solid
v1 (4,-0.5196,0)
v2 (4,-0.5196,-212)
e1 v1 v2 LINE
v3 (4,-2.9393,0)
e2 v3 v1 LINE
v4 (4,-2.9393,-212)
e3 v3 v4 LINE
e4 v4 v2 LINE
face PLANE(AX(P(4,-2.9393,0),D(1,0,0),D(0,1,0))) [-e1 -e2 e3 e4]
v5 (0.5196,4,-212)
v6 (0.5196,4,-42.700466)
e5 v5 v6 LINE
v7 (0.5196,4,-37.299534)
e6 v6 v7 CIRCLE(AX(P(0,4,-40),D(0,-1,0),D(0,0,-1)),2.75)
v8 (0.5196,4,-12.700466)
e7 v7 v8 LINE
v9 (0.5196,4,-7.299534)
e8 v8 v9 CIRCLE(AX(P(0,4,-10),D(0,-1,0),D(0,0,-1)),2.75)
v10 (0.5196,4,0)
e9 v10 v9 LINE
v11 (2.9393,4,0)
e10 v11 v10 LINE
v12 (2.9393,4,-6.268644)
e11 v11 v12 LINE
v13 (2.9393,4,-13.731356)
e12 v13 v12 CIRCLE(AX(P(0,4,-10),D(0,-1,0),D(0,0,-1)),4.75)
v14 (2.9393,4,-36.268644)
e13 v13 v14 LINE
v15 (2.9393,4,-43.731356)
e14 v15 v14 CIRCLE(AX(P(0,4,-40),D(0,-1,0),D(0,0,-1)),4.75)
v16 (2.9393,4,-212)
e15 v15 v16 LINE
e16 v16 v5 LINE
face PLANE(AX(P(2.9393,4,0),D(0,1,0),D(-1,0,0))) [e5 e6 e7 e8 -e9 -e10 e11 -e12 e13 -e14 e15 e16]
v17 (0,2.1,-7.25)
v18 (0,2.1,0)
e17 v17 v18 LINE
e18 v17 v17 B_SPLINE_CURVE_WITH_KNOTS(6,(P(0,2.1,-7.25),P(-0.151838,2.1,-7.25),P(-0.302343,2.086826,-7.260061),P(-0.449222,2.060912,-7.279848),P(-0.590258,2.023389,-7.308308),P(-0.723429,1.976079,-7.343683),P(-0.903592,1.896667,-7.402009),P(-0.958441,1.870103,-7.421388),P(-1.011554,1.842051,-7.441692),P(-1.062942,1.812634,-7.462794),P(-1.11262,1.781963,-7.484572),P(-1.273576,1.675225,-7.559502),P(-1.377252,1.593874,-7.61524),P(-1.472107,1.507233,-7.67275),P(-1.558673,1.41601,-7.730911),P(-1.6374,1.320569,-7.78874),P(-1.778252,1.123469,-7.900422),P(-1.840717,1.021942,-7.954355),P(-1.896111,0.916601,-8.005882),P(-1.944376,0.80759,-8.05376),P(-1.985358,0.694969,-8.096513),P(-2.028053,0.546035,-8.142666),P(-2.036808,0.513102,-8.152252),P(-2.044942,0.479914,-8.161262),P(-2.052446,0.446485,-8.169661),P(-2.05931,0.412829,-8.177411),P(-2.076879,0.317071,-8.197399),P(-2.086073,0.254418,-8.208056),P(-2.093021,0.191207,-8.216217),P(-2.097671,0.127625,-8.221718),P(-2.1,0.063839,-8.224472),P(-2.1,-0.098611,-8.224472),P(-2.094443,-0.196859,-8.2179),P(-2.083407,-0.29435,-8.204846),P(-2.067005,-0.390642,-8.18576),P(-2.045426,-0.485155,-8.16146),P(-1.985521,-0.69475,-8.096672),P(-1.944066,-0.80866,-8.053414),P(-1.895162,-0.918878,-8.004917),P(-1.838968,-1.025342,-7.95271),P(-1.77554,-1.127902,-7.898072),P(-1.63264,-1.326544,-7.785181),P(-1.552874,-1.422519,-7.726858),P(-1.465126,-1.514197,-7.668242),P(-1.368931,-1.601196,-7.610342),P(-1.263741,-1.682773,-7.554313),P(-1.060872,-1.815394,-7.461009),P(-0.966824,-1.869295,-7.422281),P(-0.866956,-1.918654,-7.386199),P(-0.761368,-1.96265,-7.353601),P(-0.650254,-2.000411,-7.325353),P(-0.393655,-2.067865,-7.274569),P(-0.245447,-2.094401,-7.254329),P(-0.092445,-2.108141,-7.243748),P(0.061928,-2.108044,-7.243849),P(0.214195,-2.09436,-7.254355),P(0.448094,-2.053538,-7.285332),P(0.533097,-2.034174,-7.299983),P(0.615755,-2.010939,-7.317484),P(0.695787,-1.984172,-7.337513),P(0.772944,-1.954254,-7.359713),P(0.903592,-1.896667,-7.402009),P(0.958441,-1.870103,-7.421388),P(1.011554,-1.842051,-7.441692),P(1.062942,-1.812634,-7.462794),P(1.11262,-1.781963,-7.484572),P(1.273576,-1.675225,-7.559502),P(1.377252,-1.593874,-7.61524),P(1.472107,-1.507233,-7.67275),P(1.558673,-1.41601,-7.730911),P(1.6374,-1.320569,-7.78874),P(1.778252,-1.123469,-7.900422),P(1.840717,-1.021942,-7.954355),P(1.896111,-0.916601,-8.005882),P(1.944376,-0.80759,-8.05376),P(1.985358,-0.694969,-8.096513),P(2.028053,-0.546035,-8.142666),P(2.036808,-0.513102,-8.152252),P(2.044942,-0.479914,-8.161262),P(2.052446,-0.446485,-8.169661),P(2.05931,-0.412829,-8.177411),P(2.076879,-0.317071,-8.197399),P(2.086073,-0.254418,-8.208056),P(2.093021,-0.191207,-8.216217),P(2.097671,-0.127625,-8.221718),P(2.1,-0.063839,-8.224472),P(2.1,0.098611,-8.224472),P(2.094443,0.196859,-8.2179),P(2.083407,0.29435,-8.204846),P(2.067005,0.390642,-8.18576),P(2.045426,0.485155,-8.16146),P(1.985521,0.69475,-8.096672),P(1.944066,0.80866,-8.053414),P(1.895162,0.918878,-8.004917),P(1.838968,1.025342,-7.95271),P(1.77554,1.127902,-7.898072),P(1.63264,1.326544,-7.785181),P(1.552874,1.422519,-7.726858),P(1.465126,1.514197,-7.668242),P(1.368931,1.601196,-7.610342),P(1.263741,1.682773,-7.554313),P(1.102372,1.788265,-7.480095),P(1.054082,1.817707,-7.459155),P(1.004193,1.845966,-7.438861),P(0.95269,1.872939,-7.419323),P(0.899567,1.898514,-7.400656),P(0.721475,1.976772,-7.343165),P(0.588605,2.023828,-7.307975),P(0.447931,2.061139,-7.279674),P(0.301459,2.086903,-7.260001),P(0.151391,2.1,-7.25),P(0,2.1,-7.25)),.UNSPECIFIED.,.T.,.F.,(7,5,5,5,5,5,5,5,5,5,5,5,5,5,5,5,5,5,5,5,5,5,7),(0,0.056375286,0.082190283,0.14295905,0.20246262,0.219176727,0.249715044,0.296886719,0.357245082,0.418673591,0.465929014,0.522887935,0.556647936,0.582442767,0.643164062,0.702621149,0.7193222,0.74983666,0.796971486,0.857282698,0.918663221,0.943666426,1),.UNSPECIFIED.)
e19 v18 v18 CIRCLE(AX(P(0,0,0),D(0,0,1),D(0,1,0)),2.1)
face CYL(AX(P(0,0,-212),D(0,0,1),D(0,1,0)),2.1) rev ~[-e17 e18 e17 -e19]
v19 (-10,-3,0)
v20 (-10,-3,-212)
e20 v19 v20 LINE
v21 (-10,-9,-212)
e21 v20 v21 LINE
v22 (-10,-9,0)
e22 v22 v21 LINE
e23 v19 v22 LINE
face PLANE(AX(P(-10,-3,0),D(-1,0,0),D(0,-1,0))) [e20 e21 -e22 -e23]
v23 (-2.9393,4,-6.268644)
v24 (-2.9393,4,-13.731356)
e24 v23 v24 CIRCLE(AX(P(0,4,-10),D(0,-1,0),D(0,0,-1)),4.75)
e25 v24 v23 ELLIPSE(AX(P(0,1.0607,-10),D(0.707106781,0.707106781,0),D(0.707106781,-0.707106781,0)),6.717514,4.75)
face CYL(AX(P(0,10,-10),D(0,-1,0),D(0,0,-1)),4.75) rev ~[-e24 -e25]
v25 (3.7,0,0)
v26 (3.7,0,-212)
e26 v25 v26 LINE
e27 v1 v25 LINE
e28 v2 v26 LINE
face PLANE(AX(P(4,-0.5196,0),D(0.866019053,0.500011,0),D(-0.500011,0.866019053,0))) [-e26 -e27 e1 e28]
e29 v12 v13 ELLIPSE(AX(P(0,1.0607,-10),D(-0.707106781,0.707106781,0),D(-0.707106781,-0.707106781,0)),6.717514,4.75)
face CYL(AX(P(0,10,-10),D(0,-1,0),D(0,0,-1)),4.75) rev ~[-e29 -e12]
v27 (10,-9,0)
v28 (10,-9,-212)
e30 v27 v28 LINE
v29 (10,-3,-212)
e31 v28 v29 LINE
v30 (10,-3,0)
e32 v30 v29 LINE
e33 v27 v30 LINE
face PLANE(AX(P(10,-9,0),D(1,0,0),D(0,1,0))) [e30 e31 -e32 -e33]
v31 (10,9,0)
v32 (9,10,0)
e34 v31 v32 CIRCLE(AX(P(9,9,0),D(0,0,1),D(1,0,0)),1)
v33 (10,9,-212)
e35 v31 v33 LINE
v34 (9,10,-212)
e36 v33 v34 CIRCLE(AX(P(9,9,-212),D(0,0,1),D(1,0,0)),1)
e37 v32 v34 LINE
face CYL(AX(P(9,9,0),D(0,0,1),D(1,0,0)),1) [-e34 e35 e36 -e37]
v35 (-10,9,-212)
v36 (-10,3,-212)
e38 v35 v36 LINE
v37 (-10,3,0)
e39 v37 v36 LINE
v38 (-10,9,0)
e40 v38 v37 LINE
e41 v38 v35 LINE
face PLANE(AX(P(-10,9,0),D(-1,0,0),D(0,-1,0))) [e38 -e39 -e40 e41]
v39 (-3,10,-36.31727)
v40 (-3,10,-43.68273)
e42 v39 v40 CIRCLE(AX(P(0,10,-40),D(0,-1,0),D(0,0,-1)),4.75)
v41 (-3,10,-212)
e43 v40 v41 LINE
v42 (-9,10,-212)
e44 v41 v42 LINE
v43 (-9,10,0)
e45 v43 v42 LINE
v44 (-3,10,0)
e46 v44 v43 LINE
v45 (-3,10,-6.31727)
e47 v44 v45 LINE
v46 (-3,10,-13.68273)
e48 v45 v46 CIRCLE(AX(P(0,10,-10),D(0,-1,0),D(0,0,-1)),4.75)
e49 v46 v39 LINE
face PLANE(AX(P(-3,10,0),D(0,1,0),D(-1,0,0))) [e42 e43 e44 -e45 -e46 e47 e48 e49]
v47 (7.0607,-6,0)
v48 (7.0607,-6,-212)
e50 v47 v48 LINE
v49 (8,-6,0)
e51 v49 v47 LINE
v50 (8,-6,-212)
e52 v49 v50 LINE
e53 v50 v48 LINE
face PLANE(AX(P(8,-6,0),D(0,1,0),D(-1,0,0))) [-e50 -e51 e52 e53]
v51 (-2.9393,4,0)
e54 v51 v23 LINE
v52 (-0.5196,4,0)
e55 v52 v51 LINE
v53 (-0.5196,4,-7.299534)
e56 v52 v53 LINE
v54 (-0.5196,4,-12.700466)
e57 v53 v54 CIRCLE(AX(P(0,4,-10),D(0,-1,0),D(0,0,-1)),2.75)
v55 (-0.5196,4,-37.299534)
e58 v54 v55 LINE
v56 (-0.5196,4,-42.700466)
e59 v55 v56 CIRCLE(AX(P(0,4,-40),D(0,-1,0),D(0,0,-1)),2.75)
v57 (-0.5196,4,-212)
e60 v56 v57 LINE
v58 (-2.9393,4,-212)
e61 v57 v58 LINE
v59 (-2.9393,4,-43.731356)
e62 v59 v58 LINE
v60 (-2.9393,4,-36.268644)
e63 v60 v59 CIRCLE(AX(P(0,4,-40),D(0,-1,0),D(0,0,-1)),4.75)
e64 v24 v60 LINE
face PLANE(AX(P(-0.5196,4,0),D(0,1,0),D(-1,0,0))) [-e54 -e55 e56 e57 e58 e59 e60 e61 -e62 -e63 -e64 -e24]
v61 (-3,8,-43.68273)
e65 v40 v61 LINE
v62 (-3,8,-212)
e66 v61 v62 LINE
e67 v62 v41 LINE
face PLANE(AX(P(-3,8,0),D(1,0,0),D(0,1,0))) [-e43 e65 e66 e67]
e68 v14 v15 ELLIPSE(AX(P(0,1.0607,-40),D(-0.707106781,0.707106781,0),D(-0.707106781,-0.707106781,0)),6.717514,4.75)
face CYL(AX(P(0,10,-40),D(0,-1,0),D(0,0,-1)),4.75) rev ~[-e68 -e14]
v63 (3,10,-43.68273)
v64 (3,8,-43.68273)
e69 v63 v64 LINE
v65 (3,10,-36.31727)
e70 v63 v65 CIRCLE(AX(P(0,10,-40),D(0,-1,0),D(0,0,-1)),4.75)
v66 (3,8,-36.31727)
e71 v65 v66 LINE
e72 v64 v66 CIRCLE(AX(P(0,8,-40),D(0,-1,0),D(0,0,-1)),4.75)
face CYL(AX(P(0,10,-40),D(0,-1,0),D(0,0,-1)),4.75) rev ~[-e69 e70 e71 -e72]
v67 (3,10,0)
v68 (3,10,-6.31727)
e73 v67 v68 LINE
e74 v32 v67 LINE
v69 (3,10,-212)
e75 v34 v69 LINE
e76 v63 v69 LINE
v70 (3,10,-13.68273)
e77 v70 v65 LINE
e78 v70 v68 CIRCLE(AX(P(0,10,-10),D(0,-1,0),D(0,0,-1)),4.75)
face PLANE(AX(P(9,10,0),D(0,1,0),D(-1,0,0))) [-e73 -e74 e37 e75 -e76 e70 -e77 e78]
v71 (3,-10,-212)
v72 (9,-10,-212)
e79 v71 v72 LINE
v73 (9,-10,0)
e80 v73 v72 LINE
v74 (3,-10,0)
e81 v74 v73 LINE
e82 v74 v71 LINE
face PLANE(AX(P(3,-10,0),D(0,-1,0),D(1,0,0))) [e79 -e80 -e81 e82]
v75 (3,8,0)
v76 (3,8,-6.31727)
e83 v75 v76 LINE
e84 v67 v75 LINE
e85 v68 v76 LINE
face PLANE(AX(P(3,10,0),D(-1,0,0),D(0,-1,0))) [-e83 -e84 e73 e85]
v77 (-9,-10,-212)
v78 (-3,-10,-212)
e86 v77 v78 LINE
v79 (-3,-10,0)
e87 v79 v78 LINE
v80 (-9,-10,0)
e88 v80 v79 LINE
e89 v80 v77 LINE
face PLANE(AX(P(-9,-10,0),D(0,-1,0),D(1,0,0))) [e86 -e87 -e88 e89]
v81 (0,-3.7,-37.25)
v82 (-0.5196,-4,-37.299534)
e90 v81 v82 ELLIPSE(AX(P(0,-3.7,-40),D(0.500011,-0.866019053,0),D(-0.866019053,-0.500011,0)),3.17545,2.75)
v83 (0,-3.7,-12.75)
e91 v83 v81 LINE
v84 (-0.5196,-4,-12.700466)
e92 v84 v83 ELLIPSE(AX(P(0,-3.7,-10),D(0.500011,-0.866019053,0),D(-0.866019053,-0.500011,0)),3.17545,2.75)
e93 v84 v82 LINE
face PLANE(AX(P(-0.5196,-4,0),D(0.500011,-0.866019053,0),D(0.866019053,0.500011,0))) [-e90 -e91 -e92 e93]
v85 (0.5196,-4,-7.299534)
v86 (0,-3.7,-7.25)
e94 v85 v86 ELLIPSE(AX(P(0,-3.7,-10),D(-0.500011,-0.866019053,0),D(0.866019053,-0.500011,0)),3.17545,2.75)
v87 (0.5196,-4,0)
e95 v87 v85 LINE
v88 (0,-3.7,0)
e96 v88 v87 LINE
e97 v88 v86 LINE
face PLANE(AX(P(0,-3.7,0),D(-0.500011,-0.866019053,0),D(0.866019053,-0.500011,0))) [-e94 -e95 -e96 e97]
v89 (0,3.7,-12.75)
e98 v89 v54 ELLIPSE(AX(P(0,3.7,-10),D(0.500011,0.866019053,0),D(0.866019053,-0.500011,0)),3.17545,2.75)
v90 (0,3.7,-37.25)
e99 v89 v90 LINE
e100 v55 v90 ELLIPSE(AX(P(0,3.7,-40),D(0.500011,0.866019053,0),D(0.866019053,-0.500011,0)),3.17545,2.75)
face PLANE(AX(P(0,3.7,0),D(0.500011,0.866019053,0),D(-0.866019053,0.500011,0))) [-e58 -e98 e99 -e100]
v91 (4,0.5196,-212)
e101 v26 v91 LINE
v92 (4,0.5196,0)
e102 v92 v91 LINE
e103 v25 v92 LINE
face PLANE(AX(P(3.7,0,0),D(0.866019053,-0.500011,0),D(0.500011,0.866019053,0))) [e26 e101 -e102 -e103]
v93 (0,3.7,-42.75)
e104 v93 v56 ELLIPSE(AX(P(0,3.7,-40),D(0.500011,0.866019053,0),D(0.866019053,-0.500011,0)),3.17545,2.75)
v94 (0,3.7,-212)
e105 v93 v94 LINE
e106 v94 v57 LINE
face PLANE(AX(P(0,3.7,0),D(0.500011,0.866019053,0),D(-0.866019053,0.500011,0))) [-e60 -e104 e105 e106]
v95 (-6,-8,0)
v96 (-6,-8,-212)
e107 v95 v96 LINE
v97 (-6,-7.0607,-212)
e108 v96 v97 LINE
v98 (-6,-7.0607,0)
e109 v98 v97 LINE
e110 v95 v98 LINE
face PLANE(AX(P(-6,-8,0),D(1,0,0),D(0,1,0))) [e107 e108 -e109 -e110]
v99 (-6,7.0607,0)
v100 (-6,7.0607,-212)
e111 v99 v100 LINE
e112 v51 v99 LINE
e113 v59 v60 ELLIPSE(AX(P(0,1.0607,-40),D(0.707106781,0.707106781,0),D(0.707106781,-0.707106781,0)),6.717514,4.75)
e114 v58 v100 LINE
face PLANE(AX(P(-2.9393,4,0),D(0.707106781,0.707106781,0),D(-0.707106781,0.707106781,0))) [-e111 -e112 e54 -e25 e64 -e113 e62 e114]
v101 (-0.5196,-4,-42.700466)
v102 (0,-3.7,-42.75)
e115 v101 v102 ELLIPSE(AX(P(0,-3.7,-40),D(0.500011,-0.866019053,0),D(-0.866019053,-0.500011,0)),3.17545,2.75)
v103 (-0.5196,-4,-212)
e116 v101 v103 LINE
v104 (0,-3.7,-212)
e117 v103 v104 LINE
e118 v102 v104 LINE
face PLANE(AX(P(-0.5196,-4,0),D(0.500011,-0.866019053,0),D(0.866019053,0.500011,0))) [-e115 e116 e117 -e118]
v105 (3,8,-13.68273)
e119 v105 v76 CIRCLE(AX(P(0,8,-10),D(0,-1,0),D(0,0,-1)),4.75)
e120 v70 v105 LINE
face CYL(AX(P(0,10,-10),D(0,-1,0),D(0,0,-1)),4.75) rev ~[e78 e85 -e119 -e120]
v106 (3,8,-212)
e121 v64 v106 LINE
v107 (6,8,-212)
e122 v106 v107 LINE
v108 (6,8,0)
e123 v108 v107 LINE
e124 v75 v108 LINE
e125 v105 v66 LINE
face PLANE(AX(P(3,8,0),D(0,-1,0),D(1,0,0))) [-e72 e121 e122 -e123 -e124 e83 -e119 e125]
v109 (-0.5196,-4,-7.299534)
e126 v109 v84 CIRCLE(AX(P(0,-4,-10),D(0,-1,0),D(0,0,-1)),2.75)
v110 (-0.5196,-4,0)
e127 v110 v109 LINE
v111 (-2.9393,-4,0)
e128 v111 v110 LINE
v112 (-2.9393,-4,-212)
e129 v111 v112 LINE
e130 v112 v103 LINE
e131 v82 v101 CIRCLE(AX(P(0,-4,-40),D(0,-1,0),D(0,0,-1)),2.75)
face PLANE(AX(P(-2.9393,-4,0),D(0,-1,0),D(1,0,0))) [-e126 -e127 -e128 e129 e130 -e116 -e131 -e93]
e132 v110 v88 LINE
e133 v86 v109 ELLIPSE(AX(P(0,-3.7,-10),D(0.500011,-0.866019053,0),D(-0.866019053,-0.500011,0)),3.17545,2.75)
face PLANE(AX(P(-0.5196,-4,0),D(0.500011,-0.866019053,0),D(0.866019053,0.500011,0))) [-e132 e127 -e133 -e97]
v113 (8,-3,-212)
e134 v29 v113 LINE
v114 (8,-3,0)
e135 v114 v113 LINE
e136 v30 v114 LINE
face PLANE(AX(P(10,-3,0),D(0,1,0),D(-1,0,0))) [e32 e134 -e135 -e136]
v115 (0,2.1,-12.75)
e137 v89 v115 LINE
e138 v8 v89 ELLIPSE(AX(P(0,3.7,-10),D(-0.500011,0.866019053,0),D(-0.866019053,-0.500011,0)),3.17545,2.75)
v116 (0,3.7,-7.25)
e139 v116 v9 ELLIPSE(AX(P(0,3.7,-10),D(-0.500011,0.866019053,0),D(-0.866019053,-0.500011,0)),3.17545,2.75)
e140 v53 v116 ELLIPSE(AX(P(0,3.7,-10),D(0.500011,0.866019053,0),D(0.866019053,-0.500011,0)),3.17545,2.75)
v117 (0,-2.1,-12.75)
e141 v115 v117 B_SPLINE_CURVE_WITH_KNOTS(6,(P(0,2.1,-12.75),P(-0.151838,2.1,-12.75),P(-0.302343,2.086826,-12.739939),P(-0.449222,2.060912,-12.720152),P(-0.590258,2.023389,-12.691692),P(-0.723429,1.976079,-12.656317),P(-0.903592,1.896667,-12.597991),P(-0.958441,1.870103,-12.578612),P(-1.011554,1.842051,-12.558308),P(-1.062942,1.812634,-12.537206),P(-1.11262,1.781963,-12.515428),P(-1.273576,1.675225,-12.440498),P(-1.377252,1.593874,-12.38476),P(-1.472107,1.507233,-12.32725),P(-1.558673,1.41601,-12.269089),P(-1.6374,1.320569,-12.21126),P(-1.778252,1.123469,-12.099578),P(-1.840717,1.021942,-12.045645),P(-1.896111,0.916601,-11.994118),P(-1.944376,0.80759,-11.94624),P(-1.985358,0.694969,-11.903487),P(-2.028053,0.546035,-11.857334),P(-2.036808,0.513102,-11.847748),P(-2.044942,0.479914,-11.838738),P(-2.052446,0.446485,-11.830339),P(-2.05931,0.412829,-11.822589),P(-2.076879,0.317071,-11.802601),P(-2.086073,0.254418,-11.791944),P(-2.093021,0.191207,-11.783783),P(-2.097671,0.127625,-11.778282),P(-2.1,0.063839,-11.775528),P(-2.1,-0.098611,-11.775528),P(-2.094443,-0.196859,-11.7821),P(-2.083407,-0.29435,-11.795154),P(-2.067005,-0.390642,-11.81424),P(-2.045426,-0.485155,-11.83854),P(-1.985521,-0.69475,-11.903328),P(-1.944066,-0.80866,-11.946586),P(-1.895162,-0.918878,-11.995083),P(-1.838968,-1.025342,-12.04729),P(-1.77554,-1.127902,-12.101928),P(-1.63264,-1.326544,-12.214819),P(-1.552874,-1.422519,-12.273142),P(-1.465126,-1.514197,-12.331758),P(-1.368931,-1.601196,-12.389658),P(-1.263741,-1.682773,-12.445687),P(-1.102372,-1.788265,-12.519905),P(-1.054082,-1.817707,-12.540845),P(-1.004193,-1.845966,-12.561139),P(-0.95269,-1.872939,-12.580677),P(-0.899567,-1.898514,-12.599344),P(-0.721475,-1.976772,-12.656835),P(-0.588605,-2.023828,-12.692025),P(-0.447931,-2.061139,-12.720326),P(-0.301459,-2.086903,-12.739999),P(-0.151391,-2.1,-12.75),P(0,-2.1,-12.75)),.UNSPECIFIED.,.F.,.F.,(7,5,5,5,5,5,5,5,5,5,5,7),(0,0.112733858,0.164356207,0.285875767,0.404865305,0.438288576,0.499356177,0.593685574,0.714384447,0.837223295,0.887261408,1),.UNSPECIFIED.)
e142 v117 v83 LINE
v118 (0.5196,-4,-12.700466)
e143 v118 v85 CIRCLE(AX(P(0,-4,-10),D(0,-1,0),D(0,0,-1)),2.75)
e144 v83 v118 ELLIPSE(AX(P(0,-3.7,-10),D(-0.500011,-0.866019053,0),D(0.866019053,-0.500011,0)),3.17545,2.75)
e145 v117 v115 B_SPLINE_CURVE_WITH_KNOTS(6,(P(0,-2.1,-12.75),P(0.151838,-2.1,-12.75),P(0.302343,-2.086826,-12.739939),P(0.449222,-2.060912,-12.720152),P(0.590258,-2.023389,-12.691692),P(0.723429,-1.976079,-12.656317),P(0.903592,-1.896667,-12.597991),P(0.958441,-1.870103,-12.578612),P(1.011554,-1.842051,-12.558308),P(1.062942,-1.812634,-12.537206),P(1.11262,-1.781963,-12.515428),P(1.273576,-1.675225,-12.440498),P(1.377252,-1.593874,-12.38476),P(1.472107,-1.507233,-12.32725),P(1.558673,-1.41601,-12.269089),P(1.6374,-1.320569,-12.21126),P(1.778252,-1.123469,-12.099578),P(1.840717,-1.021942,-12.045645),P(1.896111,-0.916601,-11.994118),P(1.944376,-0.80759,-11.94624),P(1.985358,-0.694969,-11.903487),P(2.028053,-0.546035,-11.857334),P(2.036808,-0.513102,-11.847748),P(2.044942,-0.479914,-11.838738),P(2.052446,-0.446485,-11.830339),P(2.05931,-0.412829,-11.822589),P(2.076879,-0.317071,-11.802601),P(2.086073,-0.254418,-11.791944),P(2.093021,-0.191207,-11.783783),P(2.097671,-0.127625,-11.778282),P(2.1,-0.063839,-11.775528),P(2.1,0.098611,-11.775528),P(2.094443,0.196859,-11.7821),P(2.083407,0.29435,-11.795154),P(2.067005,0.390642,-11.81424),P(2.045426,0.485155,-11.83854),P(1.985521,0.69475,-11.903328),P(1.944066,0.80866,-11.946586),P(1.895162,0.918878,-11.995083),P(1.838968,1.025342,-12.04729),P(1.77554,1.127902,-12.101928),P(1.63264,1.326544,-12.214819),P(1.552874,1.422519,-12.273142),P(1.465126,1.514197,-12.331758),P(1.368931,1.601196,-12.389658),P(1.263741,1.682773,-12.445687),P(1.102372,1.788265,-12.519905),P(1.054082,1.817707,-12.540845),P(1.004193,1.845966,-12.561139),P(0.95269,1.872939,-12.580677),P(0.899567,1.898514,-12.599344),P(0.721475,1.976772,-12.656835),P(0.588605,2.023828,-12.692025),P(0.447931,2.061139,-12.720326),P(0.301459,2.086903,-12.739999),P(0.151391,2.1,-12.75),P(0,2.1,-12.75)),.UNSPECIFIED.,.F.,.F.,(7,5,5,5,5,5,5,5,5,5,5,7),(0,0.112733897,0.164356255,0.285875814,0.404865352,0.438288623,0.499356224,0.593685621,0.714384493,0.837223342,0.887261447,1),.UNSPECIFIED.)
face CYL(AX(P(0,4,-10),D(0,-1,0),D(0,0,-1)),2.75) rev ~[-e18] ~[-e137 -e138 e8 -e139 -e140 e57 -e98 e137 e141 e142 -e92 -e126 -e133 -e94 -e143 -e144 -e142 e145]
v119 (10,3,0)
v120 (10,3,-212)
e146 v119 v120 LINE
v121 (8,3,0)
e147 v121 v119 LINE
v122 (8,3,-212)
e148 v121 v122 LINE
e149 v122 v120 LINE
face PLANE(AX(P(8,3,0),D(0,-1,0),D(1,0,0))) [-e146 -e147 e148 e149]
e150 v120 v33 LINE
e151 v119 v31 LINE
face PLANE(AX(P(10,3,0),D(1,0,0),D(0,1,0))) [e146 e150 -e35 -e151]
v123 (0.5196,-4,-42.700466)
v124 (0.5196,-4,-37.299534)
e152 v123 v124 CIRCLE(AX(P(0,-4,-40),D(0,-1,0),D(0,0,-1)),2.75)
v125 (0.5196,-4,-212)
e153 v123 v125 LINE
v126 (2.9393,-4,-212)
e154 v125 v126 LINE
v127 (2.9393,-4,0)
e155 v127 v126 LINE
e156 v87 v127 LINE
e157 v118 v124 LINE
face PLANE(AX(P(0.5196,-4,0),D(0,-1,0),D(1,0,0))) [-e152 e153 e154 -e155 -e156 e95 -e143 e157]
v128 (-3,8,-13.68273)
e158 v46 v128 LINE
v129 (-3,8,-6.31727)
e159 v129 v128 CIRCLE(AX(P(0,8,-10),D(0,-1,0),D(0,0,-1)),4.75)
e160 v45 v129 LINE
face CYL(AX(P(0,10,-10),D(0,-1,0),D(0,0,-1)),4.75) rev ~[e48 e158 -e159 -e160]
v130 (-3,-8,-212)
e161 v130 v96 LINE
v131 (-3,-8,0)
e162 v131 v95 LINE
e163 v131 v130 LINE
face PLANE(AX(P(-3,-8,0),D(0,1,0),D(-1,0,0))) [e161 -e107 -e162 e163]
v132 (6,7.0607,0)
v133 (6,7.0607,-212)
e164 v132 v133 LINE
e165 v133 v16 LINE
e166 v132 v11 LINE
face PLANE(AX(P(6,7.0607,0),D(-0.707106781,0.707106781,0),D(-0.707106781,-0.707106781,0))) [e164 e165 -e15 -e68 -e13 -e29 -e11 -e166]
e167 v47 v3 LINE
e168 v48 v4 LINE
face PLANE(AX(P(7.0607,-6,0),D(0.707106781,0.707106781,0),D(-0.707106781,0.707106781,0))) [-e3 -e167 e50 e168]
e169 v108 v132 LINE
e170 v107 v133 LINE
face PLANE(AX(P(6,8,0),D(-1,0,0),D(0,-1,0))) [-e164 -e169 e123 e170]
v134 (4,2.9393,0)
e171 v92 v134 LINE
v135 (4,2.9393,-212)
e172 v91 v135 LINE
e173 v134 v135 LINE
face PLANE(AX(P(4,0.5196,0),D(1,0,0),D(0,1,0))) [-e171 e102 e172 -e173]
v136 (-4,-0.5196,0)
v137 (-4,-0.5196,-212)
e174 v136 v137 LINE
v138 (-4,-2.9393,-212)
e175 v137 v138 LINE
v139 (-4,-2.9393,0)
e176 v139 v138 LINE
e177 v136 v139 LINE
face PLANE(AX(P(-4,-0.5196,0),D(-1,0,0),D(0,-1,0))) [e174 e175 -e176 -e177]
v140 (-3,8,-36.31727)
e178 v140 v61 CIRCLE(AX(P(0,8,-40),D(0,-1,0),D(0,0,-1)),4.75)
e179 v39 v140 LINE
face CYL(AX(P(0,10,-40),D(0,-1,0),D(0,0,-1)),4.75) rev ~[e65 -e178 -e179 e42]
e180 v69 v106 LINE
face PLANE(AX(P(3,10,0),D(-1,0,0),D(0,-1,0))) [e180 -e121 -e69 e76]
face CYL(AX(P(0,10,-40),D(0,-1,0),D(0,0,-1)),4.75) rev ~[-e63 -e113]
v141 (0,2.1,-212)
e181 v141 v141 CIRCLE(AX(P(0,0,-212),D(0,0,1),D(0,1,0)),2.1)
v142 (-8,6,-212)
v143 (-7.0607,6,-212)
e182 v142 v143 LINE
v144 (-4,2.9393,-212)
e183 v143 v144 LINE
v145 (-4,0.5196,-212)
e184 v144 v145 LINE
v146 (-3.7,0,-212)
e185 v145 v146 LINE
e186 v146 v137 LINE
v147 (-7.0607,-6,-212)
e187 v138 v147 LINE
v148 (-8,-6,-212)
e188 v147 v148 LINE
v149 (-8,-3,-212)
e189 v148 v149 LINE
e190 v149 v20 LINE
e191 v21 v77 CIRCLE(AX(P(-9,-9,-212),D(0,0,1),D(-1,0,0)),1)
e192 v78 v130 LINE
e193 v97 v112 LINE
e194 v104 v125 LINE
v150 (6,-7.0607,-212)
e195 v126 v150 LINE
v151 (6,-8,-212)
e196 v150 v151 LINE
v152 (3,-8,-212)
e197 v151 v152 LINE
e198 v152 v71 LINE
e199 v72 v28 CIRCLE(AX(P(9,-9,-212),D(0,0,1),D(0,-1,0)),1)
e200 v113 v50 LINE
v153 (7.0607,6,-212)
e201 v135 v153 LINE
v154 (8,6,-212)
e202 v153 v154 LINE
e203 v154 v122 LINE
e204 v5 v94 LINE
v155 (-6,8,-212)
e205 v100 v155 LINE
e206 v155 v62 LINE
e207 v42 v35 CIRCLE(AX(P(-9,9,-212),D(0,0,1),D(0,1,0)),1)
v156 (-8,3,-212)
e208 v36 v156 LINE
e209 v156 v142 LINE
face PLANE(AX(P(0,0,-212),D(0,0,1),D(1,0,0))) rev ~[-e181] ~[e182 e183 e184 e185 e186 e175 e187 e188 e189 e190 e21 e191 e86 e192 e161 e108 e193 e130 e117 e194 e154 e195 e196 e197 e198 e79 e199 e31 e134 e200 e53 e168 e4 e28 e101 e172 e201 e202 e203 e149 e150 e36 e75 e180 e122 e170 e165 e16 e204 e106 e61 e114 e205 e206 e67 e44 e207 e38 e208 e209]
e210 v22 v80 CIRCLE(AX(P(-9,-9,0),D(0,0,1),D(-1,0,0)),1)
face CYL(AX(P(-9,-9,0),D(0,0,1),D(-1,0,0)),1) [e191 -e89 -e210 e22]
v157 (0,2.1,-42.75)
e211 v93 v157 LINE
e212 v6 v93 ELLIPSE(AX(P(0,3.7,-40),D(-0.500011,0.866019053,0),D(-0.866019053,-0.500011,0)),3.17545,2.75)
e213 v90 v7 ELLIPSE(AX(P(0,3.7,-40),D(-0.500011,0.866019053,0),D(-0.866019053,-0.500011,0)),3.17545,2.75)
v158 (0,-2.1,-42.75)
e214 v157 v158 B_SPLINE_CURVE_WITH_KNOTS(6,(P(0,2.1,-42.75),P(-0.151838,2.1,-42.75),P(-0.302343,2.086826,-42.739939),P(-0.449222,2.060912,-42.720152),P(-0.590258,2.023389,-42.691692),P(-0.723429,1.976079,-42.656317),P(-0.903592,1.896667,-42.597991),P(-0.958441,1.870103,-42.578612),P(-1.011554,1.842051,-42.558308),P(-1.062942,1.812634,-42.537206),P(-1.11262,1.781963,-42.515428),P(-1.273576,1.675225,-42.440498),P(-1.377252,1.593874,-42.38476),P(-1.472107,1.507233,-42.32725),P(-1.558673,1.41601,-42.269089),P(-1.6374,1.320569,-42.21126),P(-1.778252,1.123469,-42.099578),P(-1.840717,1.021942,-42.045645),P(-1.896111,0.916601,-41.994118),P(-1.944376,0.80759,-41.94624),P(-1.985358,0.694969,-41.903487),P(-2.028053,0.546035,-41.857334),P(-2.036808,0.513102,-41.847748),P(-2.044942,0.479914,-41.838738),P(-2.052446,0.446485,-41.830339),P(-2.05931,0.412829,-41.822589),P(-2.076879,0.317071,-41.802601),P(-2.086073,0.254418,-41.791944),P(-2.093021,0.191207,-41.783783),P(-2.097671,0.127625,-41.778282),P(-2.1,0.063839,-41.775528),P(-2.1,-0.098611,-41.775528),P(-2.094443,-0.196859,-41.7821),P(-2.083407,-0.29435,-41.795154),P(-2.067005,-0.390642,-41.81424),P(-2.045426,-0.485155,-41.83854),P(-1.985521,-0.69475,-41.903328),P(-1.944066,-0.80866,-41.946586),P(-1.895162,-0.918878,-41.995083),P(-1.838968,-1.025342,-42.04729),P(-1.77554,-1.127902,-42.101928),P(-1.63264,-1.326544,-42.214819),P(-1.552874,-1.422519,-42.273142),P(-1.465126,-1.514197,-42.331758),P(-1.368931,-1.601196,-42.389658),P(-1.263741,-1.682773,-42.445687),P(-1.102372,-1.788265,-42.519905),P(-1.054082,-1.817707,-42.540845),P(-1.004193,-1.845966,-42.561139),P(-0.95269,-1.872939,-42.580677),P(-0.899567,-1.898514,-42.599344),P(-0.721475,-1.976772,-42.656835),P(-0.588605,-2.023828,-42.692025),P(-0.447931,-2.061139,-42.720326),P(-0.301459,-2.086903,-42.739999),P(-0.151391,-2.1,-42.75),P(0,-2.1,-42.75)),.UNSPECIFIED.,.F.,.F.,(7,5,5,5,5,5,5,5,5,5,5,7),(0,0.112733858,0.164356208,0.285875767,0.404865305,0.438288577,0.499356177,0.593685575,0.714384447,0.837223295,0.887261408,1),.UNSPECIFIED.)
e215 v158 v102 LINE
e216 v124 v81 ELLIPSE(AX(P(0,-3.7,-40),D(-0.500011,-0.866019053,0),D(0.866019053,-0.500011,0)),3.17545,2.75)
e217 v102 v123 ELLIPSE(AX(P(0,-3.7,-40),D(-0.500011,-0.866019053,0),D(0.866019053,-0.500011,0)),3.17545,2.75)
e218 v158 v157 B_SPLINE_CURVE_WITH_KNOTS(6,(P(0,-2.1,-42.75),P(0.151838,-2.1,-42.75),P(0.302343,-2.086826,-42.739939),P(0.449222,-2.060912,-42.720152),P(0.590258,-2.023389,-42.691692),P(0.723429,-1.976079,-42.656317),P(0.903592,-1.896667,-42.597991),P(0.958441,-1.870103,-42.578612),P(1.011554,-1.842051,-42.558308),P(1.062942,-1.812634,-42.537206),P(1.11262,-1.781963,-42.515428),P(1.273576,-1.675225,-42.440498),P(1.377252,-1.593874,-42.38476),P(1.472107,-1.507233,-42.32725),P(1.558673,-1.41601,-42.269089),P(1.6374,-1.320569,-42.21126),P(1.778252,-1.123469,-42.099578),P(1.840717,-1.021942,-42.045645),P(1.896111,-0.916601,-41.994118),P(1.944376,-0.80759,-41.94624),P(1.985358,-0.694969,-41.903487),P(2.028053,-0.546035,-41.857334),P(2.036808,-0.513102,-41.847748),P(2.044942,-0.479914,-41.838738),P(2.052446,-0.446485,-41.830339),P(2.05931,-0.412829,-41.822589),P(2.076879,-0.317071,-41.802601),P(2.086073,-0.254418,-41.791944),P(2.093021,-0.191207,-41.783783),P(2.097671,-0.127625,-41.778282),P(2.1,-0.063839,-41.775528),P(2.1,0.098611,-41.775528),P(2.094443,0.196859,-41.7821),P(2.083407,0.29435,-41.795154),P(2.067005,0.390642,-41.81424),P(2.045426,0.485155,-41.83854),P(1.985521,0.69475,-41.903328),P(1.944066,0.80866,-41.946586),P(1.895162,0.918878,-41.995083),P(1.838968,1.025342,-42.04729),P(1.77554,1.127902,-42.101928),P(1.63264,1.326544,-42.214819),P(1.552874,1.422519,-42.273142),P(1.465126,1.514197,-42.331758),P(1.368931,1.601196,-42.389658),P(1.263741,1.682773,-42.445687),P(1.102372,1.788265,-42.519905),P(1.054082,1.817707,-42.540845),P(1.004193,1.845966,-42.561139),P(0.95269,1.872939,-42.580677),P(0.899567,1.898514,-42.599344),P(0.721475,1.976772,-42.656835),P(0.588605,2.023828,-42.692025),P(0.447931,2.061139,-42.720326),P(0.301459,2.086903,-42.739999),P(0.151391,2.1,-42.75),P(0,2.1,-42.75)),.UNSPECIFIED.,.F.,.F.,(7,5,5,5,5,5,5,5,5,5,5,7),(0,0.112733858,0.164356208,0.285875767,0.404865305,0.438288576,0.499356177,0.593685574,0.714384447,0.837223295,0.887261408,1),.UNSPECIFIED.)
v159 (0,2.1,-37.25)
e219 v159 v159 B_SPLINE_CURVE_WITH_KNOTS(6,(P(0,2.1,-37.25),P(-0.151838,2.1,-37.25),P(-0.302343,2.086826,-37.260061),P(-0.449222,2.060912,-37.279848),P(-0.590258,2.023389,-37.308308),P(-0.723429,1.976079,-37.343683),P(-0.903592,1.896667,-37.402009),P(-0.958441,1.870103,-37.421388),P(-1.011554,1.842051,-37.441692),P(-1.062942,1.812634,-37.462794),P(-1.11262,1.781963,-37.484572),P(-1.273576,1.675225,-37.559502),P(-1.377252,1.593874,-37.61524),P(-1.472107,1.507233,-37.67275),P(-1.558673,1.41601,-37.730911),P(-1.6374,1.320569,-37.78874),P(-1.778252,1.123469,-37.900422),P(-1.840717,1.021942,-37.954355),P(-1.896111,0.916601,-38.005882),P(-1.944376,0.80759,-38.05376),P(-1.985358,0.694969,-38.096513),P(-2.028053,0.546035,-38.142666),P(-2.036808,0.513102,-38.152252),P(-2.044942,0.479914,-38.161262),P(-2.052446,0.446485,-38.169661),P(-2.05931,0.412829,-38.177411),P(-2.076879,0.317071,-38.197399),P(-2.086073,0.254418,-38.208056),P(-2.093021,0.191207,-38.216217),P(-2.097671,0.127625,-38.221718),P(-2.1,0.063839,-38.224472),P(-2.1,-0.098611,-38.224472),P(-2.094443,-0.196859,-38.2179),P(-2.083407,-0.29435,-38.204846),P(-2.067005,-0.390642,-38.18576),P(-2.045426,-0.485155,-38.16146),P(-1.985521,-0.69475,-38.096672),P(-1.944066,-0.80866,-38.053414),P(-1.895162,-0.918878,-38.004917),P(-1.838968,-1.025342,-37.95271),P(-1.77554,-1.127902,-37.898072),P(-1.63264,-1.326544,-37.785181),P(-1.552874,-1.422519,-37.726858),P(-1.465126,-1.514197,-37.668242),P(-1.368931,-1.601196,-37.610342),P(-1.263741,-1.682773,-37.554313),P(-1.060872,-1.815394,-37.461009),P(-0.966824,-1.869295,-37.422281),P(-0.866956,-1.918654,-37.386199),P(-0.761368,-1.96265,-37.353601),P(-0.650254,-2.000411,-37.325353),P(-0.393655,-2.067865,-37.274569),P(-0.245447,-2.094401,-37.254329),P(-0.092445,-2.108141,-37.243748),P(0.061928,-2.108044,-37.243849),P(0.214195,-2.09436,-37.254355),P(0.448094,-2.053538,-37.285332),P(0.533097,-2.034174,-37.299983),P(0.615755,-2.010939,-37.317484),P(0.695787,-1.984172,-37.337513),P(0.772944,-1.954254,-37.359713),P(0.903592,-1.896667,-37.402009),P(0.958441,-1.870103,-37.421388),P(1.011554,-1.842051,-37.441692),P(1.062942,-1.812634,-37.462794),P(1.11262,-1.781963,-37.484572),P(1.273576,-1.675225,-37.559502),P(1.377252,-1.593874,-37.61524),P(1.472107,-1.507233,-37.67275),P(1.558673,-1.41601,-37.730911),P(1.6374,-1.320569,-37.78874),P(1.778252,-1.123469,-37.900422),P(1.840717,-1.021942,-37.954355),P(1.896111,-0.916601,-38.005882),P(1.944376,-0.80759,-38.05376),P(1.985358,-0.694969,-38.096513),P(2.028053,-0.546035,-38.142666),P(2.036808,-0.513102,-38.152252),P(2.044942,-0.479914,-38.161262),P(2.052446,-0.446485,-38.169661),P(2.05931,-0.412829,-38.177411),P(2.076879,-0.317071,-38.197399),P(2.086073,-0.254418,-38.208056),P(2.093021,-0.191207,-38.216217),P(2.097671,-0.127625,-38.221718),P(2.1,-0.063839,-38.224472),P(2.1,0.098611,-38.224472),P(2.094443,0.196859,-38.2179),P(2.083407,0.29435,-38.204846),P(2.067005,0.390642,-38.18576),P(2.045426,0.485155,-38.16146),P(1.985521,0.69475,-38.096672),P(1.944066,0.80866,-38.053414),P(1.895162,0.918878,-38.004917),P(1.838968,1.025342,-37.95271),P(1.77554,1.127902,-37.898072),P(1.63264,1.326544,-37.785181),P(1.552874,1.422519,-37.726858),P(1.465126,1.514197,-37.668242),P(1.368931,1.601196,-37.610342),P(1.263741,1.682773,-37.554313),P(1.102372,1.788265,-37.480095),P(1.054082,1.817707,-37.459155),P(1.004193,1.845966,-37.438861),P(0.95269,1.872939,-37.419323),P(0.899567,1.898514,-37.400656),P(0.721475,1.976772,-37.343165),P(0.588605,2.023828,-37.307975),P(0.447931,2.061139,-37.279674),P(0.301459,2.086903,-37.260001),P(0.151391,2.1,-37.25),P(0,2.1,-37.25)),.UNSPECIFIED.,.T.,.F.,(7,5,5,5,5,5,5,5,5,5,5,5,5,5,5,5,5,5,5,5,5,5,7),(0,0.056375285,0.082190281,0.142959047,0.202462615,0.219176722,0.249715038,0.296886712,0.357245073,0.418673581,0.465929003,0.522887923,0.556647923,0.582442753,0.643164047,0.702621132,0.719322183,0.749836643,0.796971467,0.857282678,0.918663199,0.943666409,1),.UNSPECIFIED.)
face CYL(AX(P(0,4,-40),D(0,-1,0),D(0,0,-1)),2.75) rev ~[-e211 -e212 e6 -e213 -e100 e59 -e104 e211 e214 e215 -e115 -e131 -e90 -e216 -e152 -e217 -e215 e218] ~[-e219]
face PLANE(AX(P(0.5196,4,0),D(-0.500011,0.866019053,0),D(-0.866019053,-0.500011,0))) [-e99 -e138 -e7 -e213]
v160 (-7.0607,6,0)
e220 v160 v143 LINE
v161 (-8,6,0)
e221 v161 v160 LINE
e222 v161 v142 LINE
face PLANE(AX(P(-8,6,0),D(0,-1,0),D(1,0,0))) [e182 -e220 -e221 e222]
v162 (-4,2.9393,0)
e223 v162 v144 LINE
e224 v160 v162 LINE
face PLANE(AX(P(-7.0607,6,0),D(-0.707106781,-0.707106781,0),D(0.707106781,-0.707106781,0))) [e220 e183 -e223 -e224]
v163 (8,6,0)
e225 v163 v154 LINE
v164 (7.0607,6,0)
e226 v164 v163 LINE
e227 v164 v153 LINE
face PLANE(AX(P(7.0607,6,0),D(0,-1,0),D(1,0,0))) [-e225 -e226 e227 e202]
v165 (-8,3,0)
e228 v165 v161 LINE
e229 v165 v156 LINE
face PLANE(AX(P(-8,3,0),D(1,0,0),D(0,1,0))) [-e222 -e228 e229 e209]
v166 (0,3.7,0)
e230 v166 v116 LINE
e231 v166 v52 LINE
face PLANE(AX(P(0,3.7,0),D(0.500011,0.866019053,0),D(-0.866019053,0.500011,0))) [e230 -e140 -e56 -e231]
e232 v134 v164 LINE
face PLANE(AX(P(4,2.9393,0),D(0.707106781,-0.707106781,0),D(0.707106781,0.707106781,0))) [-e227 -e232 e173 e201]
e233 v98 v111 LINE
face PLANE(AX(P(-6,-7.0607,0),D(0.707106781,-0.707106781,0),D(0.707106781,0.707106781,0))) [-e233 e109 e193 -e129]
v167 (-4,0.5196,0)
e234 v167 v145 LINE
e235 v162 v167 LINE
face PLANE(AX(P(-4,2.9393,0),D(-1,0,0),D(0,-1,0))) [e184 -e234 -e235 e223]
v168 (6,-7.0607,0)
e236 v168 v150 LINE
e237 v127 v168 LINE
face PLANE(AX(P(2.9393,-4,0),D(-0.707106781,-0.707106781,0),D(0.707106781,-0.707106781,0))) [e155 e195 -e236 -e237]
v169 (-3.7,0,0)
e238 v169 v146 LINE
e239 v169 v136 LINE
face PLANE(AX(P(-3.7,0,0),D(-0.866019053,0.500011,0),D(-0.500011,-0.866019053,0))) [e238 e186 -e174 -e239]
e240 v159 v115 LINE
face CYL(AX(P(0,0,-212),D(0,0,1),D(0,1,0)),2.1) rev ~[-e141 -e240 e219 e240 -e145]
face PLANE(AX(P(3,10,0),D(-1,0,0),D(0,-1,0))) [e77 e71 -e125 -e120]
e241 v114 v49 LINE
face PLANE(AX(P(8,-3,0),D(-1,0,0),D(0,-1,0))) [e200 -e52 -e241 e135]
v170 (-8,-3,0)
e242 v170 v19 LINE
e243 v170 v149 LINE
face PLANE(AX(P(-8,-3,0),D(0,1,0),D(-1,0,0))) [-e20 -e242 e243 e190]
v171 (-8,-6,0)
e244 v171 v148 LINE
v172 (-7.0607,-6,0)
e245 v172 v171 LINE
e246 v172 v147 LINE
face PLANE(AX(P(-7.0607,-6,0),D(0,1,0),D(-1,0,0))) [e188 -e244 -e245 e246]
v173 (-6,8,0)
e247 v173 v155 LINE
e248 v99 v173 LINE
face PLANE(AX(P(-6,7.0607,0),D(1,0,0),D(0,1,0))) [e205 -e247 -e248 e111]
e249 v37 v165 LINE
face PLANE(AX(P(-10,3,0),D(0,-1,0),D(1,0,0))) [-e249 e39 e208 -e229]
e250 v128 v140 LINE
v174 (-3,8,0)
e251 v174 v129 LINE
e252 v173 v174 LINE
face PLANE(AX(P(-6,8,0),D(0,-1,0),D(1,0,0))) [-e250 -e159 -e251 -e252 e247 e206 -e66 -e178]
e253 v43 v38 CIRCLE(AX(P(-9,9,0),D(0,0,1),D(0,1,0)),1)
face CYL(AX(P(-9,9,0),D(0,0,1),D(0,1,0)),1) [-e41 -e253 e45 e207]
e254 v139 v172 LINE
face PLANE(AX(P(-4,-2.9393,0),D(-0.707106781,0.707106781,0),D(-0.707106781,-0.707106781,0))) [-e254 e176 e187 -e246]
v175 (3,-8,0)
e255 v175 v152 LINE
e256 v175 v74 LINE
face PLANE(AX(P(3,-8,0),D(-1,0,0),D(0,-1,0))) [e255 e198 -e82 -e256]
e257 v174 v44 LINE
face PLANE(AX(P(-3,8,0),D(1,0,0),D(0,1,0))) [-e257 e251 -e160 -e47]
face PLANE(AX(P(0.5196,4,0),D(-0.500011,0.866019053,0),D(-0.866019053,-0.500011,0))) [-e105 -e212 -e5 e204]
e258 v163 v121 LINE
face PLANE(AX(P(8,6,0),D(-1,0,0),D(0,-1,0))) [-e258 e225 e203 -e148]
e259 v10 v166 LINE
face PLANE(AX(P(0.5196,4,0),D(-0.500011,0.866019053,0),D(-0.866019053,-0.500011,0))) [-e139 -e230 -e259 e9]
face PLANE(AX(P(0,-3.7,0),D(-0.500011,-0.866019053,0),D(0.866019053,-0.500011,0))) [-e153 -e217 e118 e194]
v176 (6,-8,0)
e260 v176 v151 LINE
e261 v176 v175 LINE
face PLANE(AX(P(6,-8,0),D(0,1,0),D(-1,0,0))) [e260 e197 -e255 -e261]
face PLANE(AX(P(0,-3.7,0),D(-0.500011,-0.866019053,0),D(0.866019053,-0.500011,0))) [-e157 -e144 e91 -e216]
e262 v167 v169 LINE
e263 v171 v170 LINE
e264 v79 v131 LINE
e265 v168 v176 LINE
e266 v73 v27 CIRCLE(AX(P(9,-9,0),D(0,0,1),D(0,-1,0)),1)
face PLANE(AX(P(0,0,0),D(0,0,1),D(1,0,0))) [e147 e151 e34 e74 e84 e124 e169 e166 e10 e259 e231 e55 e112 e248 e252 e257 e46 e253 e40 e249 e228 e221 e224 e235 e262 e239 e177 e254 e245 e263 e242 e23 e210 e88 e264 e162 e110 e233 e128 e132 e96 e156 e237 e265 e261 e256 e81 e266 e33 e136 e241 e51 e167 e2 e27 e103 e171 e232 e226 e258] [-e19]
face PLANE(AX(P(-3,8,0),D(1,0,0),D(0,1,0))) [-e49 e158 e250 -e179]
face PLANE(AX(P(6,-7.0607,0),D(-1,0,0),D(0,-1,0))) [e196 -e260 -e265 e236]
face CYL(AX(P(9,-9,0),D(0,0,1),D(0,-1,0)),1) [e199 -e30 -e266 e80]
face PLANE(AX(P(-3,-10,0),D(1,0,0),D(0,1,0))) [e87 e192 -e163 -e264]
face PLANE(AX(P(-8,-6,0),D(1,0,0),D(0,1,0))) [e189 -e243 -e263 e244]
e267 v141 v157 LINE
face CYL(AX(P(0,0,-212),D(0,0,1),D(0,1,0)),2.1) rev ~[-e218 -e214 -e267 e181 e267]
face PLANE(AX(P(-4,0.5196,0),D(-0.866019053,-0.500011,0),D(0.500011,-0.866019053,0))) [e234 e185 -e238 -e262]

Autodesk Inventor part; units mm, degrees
sketch "Sketch_1" plane through (0, 0, 0) normal (0, 0, 1) x (1, 0, 0)
  line L0 (-10, -3) -> (-10, -9)
  arc A0 (-10, -9) -> (-9, -10) centre (-9, -9) ccw
  line L1 (-9, -10) -> (-3, -10)
  line L2 (-3, -10) -> (-3, -8)
  line L3 (-3, -8) -> (-6, -8)
  line L4 (-6, -8) -> (-6, -7.0607)
  line L5 (-6, -7.0607) -> (-2.9393, -4)
  line L6 (-2.9393, -4) -> (-0.5196, -4)
  line L7 (-0.5196, -4) -> (0, -3.7)
  line L8 (0, -3.7) -> (0.5196, -4)
  line L9 (0.5196, -4) -> (2.9393, -4)
  line L10 (2.9393, -4) -> (6, -7.0607)
  line L11 (6, -7.0607) -> (6, -8)
  line L12 (6, -8) -> (3, -8)
  line L13 (3, -8) -> (3, -10)
  line L14 (3, -10) -> (9, -10)
  arc A1 (9, -10) -> (10, -9) centre (9, -9) ccw
  line L15 (10, -9) -> (10, -3)
  line L16 (10, -3) -> (8, -3)
  line L17 (8, -3) -> (8, -6)
  line L18 (8, -6) -> (7.0607, -6)
  line L19 (7.0607, -6) -> (4, -2.9393)
  line L20 (4, -2.9393) -> (4, -0.5196)
  line L21 (4, -0.5196) -> (3.7, 0)
  line L22 (3.7, 0) -> (4, 0.5196)
  line L23 (4, 0.5196) -> (4, 2.9393)
  line L24 (4, 2.9393) -> (7.0607, 6)
  line L25 (7.0607, 6) -> (8, 6)
  line L26 (8, 6) -> (8, 3)
  line L27 (8, 3) -> (10, 3)
  line L28 (10, 3) -> (10, 9)
  arc A2 (10, 9) -> (9, 10) centre (9, 9) ccw
  line L29 (9, 10) -> (3, 10)
  line L30 (3, 10) -> (3, 8)
  line L31 (3, 8) -> (6, 8)
  line L32 (6, 8) -> (6, 7.0607)
  line L33 (6, 7.0607) -> (2.9393, 4)
  line L34 (2.9393, 4) -> (0.5196, 4)
  line L35 (0.5196, 4) -> (0, 3.7)
  line L36 (0, 3.7) -> (-0.5196, 4)
  line L37 (-0.5196, 4) -> (-2.9393, 4)
  line L38 (-2.9393, 4) -> (-6, 7.0607)
  line L39 (-6, 7.0607) -> (-6, 8)
  line L40 (-6, 8) -> (-3, 8)
  line L41 (-3, 8) -> (-3, 10)
  line L42 (-3, 10) -> (-9, 10)
  arc A3 (-9, 10) -> (-10, 9) centre (-9, 9) ccw
  line L43 (-10, 9) -> (-10, 3)
  line L44 (-10, 3) -> (-8, 3)
  line L45 (-8, 3) -> (-8, 6)
  line L46 (-8, 6) -> (-7.0607, 6)
  line L47 (-7.0607, 6) -> (-4, 2.9393)
  line L48 (-4, 2.9393) -> (-4, 0.5196)
  line L49 (-4, 0.5196) -> (-3.7, 0)
  line L50 (-3.7, 0) -> (-4, -0.5196)
  line L51 (-4, -0.5196) -> (-4, -2.9393)
  line L52 (-4, -2.9393) -> (-7.0607, -6)
  line L53 (-7.0607, -6) -> (-8, -6)
  line L54 (-8, -6) -> (-8, -3)
  line L55 (-8, -3) -> (-10, -3)
extrude "Extrusion1" add sketch "Sketch_1" against normal blind 212
sketch "Sketch2" plane through (0, 0, -212) normal (0, 0, -1) x (-1, 0, 0)
  point P0 (0, 0)
hole "Hole1" at (0, 0, -212) direction (0, 0, 1) diameter 4.2 depth 300
sketch "Sketch_30" plane through (0, 0, 0) normal (1, 0, 0) x (0, 0, -1)
  line L0 (10, -10) -> (10, 10)
  line L1 (10, 10) -> (14.75, 10)
  line L2 (14.75, 10) -> (14.75, 4)
  line L3 (14.75, 4) -> (12.75, 4)
  line L4 (12.75, 4) -> (12.75, -10)
  line L5 (12.75, -10) -> (10, -10)
  line L6 (10, -10) -> (10, 10)
revolve "Revolution1" cut sketch "Sketch_30" angle 360 about axis through (0, -10, -10) along (0, -1, 0)
sketch "Sketch_31" plane through (0, 0, 0) normal (1, 0, 0) x (0, 0, -1)
  line L0 (40, -10) -> (40, 10)
  line L1 (40, 10) -> (44.75, 10)
  line L2 (44.75, 10) -> (44.75, 4)
  line L3 (44.75, 4) -> (42.75, 4)
  line L4 (42.75, 4) -> (42.75, -10)
  line L5 (42.75, -10) -> (40, -10)
  line L6 (40, -10) -> (40, 10)
revolve "Revolution2" cut sketch "Sketch_31" angle 360 about axis through (0, -10, -40) along (0, -1, 0)
sketch "Sketch_47" plane through (0, 0, 0) normal (1, 0, 0) x (0, 0, -1)
  line L0 (260, -10) -> (260, 10)
  line L1 (260, 10) -> (264.75, 10)
  line L2 (264.75, 10) -> (264.75, 4)
  line L3 (264.75, 4) -> (262.75, 4)
  line L4 (262.75, 4) -> (262.75, -10)
  line L5 (262.75, -10) -> (260, -10)
  line L6 (260, -10) -> (260, 10)
revolve "Revolution3" [suppressed]
sketch "Sketch_48" plane through (0, 0, 0) normal (1, 0, 0) x (0, 0, -1)
  line L0 (290, -10) -> (290, 10)
  line L1 (290, 10) -> (294.75, 10)
  line L2 (294.75, 10) -> (294.75, 4)
  line L3 (294.75, 4) -> (292.75, 4)
  line L4 (292.75, 4) -> (292.75, -10)
  line L5 (292.75, -10) -> (290, -10)
  line L6 (290, -10) -> (290, 10)
revolve "Revolution4" [suppressed]
ref_plane "C1_XY" through (0, 0, 0) normal (0, 0, 1) x (1, 0, 0)
ref_plane "C1_YZ" through (0, 0, 0) normal (1, 0, 0) x (0, 1, 0)
ref_plane "C1_ZX" through (0, 0, 0) normal (0, 1, 0) x (0, 0, 1)
properties part number "HFS5-2020-300-Z5-XA10-XB40-XC260-XD290_2" material "アルミニウム 6061"
